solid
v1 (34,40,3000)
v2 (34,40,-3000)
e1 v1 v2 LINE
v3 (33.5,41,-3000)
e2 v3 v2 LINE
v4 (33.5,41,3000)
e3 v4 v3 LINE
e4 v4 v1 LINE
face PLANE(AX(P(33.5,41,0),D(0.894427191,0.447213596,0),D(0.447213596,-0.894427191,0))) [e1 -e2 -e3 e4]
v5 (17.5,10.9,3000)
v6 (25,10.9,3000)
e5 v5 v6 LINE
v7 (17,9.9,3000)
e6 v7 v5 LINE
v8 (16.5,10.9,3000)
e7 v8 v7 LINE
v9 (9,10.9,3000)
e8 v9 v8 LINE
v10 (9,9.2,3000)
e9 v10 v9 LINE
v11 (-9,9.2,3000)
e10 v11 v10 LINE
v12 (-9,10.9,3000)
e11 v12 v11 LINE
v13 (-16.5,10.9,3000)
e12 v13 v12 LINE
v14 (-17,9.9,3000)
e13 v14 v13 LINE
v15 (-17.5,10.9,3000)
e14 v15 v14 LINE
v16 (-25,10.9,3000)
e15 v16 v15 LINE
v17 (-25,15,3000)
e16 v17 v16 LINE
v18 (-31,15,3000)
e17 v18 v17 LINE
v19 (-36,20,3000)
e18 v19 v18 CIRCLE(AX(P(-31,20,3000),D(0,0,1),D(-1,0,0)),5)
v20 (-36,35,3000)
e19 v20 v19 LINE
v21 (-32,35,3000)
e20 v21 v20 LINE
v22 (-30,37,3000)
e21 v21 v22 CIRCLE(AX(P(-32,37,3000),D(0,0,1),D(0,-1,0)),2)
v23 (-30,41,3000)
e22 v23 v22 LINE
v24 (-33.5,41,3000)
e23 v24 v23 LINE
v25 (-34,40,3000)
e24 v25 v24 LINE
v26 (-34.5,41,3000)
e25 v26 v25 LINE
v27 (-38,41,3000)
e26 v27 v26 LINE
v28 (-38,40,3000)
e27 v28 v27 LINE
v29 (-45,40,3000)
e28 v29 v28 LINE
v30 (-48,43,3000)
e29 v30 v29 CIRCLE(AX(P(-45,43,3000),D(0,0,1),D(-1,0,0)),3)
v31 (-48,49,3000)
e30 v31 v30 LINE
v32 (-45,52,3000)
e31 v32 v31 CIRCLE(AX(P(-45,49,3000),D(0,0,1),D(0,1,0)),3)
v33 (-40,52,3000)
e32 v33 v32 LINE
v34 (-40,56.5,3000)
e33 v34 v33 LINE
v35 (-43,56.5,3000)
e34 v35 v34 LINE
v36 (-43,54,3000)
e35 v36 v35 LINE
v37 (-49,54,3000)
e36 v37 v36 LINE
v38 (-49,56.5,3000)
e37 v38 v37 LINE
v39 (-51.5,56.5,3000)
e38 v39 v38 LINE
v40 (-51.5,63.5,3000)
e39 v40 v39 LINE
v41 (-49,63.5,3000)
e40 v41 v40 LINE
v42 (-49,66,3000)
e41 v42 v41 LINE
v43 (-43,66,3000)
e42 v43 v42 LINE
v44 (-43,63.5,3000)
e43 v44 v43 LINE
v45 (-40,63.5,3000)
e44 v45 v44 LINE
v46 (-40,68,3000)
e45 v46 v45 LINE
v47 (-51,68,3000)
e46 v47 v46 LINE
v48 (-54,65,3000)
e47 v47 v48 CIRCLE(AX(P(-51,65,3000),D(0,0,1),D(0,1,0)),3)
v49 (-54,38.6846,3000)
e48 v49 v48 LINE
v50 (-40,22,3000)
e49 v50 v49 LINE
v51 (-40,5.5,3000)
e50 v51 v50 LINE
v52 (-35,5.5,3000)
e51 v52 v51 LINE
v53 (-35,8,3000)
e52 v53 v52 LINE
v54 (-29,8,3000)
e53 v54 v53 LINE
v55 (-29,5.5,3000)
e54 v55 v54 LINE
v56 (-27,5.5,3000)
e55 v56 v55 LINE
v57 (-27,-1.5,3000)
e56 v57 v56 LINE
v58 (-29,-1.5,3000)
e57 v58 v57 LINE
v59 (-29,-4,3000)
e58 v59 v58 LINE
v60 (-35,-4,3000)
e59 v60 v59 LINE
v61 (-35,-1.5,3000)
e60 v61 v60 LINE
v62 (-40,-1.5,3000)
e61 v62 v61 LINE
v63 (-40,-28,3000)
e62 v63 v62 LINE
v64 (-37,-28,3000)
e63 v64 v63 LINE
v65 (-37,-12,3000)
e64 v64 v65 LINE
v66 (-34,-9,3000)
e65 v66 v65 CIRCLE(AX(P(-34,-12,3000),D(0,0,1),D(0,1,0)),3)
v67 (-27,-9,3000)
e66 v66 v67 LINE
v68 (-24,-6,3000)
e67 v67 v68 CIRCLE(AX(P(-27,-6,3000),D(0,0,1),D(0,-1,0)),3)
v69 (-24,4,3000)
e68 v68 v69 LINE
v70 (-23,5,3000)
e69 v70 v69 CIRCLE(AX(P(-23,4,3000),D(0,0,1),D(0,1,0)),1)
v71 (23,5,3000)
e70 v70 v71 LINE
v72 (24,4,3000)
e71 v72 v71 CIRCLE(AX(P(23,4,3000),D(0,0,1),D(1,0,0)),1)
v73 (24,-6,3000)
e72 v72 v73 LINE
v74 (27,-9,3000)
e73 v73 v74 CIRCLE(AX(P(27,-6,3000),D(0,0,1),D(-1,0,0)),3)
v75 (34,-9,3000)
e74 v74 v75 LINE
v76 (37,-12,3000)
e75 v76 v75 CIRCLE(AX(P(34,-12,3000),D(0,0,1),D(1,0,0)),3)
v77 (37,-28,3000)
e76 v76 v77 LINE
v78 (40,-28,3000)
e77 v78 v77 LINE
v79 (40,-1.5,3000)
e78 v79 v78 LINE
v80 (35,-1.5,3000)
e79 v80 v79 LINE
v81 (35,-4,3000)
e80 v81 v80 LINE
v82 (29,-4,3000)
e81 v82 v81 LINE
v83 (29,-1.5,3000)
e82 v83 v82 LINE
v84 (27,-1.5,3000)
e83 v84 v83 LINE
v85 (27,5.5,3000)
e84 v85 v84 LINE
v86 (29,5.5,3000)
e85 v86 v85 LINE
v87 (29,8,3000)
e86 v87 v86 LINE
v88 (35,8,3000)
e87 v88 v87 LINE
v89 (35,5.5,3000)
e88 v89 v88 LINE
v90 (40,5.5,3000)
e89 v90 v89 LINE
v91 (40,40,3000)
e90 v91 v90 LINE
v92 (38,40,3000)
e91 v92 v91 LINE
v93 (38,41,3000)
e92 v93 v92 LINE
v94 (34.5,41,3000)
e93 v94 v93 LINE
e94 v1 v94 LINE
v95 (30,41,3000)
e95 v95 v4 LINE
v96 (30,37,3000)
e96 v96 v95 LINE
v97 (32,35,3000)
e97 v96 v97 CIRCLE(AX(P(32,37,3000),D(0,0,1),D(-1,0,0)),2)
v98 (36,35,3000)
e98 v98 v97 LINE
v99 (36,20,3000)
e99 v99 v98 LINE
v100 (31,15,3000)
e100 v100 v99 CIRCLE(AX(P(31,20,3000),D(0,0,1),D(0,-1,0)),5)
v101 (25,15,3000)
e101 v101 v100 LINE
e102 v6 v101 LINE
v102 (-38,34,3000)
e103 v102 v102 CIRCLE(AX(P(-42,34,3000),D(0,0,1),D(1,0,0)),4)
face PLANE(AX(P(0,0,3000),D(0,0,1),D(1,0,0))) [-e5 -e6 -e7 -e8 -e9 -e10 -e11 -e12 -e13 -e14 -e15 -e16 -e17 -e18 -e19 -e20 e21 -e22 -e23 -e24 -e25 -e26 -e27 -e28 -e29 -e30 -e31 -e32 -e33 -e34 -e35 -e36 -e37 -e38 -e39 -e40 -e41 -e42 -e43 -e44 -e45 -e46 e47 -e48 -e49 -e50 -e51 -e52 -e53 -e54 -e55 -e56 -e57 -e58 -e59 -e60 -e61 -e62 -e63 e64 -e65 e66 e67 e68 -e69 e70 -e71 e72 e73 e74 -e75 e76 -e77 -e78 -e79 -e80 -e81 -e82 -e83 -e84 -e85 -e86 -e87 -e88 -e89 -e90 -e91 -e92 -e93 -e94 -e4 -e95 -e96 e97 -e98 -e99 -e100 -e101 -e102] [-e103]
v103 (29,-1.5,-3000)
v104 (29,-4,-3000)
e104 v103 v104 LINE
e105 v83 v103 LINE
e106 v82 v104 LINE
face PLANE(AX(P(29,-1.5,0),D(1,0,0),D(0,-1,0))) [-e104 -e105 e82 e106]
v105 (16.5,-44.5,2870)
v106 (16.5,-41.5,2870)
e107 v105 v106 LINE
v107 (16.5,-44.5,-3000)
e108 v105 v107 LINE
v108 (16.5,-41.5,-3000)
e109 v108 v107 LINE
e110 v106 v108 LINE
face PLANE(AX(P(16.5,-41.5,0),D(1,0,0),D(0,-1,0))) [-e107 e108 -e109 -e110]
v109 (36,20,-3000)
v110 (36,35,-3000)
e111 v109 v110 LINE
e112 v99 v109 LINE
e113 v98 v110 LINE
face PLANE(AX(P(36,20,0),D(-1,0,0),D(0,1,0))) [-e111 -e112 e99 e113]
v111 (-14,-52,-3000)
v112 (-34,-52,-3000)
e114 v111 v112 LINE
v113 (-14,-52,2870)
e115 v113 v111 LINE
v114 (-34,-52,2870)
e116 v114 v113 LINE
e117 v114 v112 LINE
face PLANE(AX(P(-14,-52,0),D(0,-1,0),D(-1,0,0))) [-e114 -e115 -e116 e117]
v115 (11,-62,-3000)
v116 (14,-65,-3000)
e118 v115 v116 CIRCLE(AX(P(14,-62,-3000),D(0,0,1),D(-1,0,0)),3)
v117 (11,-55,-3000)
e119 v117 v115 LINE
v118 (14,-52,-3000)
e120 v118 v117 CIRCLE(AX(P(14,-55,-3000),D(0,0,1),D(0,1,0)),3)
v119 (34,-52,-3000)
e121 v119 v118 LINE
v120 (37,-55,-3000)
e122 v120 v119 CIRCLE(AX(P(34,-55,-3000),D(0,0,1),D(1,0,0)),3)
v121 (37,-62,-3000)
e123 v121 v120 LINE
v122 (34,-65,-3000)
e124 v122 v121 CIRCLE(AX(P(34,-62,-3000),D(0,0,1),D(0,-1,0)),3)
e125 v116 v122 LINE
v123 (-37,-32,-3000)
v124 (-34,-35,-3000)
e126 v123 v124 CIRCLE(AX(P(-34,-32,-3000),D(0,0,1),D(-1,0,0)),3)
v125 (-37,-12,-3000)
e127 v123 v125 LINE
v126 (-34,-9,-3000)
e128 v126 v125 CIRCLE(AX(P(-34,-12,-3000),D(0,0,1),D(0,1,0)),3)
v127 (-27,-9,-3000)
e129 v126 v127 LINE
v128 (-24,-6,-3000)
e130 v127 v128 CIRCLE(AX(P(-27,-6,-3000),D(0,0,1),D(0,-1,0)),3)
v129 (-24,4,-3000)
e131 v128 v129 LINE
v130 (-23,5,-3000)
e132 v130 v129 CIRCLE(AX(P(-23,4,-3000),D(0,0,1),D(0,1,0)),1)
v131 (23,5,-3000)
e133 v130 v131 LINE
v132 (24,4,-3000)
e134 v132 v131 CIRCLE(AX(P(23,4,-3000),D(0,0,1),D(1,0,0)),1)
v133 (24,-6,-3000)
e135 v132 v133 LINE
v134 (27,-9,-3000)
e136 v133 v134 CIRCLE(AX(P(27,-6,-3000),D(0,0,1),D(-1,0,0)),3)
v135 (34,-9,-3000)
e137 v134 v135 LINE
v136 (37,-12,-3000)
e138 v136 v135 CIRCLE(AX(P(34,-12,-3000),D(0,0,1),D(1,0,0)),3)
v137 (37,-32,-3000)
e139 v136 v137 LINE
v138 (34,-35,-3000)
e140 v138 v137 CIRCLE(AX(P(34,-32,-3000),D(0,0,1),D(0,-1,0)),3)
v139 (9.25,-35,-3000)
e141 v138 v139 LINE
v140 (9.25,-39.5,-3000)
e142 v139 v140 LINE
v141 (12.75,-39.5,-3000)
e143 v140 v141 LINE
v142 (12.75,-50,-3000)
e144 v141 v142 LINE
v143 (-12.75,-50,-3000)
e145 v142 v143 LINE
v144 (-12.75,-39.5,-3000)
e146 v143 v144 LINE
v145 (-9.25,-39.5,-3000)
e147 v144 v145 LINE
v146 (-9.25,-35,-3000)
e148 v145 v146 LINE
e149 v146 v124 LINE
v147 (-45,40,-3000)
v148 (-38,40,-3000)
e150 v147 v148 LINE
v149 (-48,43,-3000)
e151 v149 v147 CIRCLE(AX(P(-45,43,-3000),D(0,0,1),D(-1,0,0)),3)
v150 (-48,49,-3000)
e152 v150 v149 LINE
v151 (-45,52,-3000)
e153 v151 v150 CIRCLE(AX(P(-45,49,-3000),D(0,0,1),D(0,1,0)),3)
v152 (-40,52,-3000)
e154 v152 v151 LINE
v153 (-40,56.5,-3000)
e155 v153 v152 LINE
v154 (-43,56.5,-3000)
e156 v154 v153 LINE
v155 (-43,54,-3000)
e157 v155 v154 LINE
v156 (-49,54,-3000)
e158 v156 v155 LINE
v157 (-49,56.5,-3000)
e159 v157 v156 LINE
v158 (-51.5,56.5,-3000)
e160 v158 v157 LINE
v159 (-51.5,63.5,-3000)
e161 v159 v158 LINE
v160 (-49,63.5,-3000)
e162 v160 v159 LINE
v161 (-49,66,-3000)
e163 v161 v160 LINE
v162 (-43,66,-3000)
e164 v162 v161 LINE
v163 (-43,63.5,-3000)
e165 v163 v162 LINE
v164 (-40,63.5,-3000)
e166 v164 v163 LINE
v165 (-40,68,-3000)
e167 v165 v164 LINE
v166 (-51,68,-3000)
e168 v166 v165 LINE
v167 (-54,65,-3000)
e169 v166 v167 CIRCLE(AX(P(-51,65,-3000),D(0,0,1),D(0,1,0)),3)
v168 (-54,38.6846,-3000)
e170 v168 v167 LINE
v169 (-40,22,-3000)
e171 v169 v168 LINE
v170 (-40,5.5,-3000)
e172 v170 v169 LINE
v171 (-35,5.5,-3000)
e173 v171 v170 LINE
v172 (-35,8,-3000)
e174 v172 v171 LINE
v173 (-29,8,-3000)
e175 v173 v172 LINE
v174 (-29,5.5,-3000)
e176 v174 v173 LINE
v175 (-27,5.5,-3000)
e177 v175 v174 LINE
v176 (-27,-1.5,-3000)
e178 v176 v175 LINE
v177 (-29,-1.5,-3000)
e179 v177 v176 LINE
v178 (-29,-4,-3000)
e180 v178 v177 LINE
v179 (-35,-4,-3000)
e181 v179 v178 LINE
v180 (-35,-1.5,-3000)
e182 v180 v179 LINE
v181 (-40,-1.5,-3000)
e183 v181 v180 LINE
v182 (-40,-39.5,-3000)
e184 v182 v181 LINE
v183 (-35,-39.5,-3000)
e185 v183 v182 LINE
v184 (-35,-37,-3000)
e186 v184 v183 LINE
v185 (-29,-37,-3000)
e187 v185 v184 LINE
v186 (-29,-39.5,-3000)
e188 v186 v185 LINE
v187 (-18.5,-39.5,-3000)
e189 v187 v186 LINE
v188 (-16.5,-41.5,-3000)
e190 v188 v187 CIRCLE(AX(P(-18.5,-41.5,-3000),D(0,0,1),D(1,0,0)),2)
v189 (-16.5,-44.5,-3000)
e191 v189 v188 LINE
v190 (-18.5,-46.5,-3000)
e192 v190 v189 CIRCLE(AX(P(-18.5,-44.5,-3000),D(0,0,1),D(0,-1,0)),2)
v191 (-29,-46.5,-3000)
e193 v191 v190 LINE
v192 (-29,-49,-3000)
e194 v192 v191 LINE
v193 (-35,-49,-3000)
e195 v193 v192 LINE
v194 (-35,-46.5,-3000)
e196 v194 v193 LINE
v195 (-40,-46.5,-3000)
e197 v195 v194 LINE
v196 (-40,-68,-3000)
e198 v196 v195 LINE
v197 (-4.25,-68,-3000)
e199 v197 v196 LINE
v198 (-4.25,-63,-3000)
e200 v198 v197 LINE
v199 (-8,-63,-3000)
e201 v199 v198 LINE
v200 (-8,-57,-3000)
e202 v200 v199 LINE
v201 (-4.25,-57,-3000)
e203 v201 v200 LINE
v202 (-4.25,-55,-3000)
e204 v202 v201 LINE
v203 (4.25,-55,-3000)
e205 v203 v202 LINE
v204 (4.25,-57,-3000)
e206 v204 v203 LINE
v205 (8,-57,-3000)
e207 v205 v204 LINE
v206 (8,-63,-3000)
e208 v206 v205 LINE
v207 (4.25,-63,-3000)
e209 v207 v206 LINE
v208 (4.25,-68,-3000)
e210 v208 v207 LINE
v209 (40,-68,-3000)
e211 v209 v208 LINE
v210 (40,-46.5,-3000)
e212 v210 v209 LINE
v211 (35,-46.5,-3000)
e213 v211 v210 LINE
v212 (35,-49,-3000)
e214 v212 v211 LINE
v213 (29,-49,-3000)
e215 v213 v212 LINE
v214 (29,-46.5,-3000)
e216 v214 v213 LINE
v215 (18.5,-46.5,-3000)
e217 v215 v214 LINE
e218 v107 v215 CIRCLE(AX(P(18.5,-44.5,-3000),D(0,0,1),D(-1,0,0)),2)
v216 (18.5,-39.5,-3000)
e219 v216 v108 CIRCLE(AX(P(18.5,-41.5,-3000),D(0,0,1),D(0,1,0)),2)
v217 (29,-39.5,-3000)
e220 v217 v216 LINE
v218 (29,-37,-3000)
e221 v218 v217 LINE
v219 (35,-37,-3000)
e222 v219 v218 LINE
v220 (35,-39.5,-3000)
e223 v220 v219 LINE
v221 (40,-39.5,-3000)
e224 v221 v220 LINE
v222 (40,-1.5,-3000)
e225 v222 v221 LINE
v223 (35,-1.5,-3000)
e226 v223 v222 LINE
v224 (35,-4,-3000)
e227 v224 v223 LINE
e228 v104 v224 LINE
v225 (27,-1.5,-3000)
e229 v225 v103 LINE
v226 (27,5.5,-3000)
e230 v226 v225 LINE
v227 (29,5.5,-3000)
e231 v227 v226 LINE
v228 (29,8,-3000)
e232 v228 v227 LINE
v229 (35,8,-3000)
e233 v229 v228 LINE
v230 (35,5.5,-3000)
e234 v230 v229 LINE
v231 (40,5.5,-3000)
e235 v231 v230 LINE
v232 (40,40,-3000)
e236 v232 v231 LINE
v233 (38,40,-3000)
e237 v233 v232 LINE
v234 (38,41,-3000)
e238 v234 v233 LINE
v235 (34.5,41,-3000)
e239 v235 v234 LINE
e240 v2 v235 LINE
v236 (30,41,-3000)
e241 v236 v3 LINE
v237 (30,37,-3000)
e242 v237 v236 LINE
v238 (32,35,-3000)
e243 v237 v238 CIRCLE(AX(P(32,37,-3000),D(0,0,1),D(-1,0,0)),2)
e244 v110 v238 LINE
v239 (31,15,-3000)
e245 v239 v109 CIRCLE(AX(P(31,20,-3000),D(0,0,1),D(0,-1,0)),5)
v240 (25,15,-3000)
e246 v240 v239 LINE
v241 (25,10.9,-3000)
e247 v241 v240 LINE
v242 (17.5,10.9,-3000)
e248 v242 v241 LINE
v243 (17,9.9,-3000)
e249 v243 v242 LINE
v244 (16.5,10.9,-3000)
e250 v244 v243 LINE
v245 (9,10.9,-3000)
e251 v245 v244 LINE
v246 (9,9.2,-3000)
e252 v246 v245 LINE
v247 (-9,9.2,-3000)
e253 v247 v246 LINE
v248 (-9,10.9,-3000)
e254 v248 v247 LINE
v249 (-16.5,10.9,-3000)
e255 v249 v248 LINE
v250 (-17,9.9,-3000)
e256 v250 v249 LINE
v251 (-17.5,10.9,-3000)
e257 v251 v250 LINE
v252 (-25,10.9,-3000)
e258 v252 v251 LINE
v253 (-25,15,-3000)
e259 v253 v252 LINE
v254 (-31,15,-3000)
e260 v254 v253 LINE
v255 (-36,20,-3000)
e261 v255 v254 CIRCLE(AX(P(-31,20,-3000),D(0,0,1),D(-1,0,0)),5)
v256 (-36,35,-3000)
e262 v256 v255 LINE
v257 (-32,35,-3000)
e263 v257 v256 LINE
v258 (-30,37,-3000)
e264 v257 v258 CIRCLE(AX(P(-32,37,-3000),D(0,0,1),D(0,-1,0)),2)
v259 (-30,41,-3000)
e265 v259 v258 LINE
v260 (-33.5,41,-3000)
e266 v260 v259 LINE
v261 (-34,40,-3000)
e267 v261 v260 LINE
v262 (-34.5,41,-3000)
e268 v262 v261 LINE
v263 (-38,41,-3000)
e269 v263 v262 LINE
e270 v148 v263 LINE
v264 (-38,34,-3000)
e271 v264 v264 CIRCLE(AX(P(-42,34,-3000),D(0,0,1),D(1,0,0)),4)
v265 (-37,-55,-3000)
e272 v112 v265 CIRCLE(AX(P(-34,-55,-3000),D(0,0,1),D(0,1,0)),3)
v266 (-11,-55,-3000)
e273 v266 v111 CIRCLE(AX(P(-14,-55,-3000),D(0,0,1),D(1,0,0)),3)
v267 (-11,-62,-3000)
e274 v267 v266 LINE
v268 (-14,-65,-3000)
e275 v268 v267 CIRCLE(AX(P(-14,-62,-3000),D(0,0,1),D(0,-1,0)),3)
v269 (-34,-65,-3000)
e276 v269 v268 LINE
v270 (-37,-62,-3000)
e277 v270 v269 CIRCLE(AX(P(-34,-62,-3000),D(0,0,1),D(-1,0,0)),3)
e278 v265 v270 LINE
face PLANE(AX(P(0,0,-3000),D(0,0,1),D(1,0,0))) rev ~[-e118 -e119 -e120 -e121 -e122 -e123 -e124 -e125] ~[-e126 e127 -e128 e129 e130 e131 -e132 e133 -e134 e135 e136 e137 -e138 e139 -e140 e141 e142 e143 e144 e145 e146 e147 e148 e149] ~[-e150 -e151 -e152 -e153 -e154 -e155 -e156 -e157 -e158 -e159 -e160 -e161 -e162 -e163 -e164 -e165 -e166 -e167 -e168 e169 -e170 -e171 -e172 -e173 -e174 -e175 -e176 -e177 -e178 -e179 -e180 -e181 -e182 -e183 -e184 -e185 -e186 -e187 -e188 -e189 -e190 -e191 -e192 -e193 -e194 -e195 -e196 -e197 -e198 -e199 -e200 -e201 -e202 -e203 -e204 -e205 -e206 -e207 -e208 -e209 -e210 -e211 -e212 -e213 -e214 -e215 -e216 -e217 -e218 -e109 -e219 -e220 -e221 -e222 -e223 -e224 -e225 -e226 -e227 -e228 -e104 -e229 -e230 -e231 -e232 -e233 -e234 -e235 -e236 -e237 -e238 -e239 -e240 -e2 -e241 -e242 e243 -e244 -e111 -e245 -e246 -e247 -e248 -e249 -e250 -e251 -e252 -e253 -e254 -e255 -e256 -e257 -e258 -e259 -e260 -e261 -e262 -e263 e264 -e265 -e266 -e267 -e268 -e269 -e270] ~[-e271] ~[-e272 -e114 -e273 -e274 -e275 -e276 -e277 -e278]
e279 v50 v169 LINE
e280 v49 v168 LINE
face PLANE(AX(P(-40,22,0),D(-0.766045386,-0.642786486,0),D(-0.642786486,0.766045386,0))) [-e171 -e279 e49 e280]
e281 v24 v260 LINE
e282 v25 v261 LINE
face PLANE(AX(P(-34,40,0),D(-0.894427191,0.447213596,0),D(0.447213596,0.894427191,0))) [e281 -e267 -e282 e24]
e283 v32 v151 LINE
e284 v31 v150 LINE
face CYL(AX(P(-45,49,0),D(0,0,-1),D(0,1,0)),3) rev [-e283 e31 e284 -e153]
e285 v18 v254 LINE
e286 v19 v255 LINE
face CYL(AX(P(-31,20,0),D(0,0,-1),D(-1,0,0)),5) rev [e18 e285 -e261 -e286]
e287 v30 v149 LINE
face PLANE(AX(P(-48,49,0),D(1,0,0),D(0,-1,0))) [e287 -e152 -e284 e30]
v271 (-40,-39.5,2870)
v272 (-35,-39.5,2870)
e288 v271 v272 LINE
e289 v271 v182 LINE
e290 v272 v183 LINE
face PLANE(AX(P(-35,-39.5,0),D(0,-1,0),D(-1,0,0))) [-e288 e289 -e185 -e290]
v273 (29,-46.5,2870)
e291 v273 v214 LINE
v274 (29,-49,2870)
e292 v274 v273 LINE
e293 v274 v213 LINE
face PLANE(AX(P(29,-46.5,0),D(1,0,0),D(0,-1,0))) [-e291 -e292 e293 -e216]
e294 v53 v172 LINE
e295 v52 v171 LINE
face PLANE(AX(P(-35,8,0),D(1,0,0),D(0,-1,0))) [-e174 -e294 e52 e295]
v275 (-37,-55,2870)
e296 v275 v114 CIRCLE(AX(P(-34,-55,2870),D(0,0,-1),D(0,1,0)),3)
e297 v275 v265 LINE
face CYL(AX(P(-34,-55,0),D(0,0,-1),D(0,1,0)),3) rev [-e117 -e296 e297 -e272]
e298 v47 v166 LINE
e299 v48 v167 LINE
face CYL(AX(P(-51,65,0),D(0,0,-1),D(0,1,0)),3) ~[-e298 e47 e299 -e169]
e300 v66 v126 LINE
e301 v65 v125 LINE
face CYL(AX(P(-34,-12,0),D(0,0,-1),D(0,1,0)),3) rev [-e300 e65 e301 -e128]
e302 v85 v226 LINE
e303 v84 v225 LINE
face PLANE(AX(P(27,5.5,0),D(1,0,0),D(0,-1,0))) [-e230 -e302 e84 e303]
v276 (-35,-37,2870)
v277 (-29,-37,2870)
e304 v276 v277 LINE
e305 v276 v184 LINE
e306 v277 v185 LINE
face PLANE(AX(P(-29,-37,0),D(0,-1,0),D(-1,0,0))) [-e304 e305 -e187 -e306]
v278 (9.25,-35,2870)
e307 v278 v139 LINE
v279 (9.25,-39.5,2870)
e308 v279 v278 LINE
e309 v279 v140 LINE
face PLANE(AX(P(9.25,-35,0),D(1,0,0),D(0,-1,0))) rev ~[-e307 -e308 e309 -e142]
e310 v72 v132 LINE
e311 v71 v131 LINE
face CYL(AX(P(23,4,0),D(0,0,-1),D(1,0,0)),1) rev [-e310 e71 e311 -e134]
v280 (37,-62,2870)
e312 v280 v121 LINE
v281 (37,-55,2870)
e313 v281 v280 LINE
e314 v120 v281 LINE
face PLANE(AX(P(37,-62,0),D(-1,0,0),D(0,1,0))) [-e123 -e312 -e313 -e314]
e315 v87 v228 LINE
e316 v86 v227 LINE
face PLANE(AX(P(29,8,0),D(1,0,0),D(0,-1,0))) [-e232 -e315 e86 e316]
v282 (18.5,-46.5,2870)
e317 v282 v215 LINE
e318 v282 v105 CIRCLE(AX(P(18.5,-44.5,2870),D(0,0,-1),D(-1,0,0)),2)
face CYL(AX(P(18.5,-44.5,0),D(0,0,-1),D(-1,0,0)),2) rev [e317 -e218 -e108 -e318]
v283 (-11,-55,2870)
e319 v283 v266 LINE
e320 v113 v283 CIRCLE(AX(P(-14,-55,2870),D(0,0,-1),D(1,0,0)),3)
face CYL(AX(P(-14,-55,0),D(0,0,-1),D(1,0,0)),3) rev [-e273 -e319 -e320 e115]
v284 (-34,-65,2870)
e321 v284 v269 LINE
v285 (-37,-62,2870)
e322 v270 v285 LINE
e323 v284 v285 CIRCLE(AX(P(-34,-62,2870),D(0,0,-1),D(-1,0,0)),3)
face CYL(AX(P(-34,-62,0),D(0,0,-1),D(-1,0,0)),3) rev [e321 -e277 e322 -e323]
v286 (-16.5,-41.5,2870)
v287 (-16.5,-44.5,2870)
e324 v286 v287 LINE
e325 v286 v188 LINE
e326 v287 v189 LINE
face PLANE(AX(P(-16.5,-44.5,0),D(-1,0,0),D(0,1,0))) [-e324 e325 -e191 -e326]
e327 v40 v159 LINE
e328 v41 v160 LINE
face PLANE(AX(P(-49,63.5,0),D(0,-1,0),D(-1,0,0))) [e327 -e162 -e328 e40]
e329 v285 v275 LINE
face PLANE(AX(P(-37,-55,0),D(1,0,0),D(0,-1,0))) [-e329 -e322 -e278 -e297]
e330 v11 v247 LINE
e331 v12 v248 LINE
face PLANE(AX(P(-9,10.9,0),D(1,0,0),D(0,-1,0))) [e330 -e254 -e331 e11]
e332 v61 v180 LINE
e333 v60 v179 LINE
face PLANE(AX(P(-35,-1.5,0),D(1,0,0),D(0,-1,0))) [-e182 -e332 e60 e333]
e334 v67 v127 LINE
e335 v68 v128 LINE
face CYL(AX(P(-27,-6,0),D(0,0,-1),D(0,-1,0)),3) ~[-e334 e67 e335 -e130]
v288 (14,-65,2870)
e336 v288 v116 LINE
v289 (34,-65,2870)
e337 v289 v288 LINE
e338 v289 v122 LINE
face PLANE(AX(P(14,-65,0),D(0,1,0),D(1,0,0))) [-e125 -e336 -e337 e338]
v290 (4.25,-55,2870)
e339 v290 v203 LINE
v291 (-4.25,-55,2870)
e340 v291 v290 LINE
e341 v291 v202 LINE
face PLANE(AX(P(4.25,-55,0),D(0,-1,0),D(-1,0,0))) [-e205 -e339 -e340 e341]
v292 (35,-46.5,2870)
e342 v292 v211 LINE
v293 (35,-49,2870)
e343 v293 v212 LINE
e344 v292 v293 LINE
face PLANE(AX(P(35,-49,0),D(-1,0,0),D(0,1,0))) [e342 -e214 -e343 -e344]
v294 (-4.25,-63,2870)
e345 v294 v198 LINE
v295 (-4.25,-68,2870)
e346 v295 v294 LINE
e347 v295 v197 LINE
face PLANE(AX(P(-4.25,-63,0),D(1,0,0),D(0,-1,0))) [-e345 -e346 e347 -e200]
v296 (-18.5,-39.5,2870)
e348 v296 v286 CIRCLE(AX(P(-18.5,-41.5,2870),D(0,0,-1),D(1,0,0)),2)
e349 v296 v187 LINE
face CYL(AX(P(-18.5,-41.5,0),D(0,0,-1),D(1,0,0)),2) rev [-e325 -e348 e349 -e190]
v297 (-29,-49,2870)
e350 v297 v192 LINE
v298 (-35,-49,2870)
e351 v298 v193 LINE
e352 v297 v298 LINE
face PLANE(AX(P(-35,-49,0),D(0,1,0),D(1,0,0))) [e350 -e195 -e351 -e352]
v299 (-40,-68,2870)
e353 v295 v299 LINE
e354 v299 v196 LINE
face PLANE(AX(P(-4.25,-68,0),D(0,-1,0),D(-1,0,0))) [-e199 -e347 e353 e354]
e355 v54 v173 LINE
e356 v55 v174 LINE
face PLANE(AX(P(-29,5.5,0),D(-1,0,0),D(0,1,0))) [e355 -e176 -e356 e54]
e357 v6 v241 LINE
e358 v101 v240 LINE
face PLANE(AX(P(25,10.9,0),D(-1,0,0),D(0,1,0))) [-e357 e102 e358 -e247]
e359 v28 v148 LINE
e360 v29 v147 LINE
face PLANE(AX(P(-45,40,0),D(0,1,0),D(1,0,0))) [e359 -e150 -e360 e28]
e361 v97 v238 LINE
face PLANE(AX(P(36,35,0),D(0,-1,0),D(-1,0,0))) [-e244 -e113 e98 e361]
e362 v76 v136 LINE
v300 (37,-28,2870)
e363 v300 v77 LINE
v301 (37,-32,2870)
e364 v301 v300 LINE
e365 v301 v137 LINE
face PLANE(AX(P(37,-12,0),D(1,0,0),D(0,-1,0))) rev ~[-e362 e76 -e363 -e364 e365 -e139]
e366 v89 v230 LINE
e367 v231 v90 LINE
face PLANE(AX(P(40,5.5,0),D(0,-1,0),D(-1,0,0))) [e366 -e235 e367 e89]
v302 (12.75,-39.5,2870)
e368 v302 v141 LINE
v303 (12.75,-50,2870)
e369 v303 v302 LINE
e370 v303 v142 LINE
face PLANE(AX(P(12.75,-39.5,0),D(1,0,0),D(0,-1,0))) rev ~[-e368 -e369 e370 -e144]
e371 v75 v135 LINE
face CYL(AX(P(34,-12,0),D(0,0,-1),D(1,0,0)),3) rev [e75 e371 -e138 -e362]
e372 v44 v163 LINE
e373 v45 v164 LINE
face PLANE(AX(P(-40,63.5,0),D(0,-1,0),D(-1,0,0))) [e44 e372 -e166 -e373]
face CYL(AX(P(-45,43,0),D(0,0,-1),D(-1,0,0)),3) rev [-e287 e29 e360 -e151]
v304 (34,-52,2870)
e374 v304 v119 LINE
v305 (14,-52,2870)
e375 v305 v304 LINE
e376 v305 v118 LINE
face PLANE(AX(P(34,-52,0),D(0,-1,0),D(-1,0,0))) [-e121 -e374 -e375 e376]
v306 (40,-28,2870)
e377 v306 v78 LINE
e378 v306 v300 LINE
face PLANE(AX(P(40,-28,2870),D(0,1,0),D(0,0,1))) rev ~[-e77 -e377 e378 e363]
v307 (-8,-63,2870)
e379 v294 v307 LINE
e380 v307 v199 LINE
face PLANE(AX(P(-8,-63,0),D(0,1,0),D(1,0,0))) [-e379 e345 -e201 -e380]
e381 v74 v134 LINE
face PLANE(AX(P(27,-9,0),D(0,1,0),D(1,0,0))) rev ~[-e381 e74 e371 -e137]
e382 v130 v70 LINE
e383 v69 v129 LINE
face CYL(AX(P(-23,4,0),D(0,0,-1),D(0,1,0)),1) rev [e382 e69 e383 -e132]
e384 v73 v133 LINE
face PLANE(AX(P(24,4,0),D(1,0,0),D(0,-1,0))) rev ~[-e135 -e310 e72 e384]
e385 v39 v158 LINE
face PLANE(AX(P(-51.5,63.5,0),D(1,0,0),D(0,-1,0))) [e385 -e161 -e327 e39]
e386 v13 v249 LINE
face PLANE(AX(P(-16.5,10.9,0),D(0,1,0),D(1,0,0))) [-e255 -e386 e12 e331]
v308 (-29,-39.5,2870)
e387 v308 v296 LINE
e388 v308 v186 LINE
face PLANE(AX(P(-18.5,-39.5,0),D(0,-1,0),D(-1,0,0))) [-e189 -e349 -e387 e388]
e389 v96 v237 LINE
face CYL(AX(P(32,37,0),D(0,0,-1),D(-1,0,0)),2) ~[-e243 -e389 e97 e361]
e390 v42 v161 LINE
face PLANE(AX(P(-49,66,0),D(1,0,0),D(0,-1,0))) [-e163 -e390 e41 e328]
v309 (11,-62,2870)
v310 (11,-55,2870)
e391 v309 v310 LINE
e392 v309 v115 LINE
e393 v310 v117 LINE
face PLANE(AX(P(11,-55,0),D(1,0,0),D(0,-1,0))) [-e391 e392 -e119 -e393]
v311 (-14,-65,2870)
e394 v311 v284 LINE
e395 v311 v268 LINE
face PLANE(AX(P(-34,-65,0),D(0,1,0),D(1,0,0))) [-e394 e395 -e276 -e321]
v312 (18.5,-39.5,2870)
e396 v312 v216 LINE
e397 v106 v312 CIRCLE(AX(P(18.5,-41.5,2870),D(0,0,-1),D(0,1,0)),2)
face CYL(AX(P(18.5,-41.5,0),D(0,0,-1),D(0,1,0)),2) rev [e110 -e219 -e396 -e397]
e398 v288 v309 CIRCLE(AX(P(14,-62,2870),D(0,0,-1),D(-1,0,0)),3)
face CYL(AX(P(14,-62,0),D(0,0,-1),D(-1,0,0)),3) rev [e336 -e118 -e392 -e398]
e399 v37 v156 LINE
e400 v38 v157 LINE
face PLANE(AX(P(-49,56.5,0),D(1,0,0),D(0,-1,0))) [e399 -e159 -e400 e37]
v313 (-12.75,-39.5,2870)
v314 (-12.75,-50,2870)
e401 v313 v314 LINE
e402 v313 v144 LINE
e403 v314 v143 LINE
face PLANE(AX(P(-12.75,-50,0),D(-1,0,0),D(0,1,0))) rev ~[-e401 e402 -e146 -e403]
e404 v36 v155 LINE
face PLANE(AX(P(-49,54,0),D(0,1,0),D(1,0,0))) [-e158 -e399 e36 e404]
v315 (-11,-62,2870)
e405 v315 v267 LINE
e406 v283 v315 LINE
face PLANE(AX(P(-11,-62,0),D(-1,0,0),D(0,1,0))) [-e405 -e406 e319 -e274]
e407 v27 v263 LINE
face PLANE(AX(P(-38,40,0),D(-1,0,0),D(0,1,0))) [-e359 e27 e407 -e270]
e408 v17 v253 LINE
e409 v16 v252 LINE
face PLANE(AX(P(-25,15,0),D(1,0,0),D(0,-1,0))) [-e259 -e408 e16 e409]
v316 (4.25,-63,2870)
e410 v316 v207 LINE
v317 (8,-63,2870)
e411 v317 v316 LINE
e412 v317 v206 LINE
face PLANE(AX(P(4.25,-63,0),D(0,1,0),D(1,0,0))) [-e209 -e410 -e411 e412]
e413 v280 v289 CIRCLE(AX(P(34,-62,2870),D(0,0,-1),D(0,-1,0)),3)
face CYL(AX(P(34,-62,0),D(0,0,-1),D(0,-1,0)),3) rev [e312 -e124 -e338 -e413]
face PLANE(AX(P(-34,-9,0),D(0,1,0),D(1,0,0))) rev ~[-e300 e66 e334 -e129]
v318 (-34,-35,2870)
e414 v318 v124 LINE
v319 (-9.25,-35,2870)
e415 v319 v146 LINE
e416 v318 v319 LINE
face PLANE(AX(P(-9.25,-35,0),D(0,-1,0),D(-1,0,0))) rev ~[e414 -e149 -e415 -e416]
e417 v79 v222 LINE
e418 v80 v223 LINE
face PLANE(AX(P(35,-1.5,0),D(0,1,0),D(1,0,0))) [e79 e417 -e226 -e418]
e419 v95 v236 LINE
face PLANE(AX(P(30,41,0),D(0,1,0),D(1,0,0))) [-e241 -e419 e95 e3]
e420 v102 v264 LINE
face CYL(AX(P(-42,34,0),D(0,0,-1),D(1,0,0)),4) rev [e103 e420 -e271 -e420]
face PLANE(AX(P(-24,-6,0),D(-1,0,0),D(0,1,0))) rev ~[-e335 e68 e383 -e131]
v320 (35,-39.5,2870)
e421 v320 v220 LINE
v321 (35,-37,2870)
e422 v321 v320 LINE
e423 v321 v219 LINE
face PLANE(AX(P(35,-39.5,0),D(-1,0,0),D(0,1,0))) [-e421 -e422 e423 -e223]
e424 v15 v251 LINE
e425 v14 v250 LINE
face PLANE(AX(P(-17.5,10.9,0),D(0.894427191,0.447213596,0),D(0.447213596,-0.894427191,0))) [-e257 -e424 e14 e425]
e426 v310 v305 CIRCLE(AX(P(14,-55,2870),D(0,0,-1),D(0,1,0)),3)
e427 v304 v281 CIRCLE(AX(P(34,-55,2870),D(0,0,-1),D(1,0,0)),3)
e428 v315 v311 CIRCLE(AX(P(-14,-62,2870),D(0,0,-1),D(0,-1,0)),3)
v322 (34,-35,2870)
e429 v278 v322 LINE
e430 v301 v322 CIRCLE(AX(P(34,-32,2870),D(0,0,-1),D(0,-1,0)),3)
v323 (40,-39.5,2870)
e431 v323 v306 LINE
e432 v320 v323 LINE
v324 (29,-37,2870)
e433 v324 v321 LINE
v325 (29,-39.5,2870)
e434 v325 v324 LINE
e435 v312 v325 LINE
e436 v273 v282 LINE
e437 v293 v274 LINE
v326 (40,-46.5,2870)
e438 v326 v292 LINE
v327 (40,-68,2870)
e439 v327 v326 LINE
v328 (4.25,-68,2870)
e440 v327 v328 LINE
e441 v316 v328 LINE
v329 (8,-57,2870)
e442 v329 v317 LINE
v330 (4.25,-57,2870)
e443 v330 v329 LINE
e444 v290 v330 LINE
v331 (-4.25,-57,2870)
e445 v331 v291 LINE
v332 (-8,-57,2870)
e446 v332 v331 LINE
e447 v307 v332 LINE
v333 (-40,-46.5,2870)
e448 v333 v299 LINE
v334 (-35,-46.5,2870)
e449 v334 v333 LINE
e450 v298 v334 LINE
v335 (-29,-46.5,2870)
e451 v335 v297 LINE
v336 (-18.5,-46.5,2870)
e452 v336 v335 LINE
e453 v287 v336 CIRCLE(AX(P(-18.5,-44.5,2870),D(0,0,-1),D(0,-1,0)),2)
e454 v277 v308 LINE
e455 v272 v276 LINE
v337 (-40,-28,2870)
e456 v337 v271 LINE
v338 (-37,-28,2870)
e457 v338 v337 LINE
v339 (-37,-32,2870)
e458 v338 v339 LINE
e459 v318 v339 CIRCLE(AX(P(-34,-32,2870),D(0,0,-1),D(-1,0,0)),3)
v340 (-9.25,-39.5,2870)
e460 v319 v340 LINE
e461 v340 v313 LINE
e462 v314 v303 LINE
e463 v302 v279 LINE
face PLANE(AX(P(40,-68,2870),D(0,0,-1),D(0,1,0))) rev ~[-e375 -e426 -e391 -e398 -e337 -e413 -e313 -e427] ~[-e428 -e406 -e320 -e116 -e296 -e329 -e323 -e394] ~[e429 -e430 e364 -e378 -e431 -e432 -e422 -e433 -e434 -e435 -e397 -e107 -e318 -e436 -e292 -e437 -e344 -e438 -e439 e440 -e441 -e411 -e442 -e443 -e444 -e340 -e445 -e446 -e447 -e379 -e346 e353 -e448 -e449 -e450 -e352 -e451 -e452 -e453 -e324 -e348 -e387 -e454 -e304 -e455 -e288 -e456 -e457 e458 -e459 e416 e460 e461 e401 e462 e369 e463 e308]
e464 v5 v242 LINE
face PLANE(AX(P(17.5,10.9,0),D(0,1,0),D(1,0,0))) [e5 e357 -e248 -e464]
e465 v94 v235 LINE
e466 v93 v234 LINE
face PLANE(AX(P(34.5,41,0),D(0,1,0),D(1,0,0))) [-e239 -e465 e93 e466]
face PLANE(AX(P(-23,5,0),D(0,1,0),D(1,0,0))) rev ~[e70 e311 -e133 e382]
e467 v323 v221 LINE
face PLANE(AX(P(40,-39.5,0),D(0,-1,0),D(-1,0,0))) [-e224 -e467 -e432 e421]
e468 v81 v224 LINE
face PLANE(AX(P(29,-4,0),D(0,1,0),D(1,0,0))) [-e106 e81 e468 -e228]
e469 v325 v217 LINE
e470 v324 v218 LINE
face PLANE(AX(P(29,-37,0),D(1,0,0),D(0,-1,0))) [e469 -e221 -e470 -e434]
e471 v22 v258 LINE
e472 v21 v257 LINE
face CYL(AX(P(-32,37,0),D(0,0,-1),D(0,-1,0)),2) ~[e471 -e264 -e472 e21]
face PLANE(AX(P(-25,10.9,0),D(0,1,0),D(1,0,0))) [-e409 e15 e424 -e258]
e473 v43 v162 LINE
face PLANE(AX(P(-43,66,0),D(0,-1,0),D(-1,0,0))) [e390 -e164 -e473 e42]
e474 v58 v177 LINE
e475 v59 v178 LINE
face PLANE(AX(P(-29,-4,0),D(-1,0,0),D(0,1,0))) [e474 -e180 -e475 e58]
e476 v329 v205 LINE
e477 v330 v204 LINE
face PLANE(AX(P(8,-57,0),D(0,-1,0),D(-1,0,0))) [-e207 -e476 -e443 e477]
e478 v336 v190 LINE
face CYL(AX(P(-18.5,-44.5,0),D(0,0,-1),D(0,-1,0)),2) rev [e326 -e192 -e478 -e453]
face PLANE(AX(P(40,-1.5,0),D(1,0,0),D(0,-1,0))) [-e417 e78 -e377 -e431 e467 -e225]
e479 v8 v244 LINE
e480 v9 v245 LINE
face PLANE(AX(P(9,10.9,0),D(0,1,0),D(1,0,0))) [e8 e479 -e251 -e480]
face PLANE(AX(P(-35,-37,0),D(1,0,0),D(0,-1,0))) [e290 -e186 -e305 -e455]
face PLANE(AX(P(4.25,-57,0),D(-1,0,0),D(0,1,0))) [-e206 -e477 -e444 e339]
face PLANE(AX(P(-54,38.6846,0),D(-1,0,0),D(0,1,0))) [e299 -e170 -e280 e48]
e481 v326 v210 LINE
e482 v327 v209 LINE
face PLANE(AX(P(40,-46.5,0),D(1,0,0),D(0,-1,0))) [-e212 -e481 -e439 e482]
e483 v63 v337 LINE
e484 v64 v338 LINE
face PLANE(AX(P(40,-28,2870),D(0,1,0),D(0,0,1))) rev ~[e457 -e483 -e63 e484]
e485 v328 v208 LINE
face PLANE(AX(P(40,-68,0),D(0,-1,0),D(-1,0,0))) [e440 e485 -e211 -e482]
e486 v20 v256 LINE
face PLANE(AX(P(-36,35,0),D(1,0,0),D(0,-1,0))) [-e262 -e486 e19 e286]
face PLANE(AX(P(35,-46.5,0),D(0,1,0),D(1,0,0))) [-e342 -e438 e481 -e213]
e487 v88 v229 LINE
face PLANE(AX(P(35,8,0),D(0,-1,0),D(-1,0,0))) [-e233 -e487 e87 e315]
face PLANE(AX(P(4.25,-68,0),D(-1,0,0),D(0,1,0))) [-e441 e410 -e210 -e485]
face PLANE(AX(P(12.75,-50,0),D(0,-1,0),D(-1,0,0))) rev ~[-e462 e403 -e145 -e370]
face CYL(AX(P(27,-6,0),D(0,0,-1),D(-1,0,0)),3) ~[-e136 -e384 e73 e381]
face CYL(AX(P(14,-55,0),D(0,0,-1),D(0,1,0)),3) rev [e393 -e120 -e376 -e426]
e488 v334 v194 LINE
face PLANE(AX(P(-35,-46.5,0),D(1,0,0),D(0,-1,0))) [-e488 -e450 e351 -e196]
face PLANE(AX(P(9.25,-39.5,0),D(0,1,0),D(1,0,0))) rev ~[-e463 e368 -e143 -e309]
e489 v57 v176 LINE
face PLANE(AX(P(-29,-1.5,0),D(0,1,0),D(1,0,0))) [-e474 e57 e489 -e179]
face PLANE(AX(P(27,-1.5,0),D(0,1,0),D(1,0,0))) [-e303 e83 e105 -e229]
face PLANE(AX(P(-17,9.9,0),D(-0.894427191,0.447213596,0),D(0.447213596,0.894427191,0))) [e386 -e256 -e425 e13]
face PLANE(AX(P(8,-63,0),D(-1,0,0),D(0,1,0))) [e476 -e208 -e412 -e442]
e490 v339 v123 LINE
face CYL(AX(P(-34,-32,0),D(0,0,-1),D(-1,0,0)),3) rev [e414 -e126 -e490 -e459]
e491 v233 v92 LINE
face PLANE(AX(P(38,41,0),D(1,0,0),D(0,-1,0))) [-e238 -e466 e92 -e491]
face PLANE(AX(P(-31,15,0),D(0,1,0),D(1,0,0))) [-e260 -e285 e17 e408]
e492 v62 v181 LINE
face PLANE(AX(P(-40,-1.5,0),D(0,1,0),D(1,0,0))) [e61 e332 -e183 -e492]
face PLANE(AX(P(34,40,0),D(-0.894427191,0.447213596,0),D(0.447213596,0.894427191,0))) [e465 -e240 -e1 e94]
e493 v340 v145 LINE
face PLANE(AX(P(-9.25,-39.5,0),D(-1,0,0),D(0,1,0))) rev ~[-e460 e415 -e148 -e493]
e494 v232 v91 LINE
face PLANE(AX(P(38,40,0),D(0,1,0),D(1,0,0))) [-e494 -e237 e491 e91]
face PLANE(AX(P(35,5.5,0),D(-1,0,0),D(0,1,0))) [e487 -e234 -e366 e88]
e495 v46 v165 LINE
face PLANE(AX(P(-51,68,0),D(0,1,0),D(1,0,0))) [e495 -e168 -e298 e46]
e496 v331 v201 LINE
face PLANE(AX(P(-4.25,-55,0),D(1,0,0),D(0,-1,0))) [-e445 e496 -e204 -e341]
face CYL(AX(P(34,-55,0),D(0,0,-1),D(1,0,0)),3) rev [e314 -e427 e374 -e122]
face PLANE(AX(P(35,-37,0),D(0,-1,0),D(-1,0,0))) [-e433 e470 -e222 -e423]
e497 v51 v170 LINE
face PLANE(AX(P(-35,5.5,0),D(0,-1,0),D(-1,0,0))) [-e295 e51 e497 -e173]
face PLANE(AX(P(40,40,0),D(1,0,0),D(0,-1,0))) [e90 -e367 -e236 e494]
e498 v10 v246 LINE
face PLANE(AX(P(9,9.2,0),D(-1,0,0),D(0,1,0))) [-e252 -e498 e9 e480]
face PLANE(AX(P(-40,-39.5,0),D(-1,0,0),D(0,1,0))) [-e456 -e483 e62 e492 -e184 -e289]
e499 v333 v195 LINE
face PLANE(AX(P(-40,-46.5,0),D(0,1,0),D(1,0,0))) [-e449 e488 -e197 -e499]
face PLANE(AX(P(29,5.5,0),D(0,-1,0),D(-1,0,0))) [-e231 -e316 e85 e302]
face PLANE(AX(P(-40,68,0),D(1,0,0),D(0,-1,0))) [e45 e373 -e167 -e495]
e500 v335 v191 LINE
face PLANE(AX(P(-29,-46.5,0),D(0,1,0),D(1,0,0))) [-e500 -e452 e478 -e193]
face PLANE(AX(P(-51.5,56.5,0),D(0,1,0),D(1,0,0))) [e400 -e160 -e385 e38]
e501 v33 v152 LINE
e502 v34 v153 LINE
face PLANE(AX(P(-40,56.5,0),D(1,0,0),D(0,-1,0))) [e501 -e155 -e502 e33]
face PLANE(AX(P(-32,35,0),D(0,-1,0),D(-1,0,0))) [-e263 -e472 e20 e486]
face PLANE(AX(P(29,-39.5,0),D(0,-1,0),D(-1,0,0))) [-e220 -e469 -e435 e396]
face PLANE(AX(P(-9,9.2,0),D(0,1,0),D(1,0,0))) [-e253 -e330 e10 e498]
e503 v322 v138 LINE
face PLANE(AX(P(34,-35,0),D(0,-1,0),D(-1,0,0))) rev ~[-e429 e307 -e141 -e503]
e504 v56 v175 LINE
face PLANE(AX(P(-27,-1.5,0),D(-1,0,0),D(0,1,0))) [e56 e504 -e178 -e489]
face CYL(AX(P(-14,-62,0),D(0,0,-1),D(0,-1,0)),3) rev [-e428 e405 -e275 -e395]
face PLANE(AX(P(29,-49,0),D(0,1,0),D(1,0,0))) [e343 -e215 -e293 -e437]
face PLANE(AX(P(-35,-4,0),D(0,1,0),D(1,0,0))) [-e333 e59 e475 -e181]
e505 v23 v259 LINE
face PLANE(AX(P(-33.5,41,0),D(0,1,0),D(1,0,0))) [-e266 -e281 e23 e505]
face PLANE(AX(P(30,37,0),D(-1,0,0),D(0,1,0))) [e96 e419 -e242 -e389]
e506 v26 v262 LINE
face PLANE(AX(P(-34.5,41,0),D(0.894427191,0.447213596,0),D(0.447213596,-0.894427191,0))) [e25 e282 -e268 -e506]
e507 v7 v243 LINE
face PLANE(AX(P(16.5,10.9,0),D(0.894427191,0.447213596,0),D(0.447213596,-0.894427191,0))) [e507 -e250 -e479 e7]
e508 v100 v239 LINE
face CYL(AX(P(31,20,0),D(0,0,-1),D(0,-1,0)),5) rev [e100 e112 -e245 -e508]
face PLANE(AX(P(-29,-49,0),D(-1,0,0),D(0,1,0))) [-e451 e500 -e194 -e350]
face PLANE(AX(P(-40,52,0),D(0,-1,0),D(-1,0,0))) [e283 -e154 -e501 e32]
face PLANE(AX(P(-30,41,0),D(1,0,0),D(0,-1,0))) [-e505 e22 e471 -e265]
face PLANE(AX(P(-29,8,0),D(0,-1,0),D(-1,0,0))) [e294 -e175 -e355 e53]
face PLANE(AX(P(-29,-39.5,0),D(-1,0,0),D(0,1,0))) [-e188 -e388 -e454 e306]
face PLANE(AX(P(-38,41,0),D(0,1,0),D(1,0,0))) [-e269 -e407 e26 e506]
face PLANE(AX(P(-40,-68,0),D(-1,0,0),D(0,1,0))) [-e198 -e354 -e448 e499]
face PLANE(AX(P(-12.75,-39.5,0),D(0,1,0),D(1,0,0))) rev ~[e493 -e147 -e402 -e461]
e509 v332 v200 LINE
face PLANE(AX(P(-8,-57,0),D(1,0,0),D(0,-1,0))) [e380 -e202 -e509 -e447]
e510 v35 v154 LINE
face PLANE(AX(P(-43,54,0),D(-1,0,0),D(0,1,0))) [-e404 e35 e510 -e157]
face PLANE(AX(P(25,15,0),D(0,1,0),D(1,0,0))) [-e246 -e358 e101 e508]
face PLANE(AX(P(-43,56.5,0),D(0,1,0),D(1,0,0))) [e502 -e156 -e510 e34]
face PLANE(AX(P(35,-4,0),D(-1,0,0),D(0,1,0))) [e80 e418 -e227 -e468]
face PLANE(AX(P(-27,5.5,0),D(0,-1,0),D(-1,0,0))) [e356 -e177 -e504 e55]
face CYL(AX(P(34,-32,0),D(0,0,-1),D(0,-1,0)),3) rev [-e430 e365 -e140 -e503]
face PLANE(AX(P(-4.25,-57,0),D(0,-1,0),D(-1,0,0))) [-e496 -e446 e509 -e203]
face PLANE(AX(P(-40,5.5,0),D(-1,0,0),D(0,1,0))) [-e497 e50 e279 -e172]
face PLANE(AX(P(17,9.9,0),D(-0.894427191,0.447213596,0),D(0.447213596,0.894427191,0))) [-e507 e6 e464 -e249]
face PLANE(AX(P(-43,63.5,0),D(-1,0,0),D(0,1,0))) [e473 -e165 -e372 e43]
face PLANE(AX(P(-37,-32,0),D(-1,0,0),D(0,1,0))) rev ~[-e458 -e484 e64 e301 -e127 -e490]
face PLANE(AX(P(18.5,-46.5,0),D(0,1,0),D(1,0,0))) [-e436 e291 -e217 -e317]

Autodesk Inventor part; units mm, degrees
ref_plane "YZ Plane" through (0, 0, 0) normal (1, 0, 0) x (0, 1, 0)
ref_plane "XZ Plane" through (0, 0, 0) normal (0, 1, 0) x (-1, 0, 0)
ref_plane "XY Plane" through (0, 0, 0) normal (0, 0, 1) x (1, 0, 0)
sketch "스케치9" plane through (0, 0, 0) normal (0, 0, 1) x (1, 0, 0)
  line L0 (40, 5.5) -> (35, 5.5)
  line L1 (35, 5.5) -> (35, 8)
  line L2 (35, 8) -> (29, 8)
  line L3 (29, 8) -> (29, 5.5)
  line L4 (29, 5.5) -> (27, 5.5)
  line L5 (27, 5.5) -> (27, -1.5)
  line L6 (29, -1.5) -> (29, -4)
  line L7 (29, -4) -> (35, -4)
  line L8 (35, -4) -> (35, -1.5)
  line L9 (35, -1.5) -> (40, -1.5)
  line L10 (40, -1.5) -> (40, -39.5)
  line L11 (40, -39.5) -> (35, -39.5)
  line L12 (35, -39.5) -> (35, -37)
  line L13 (35, -37) -> (29, -37)
  line L14 (29, -37) -> (29, -39.5)
  line L15 (29, -39.5) -> (18.5, -39.5)
  arc A0 (18.5, -39.5) -> (16.5, -41.5) centre (18.5, -41.5) ccw
  line L16 (16.5, -41.5) -> (16.5, -44.5)
  arc A1 (16.5, -44.5) -> (18.5, -46.5) centre (18.5, -44.5) ccw
  line L17 (18.5, -46.5) -> (29, -46.5)
  line L18 (29, -46.5) -> (29, -49)
  line L19 (29, -49) -> (35, -49)
  line L20 (35, -49) -> (35, -46.5)
  line L21 (35, -46.5) -> (40, -46.5)
  line L22 (40, -46.5) -> (40, -68)
  line L23 (40, -68) -> (4.25, -68)
  line L24 (4.25, -68) -> (4.25, -63)
  line L25 (4.25, -63) -> (8, -63)
  line L26 (8, -63) -> (8, -57)
  line L27 (8, -57) -> (4.25, -57)
  line L28 (4.25, -57) -> (4.25, -55)
  line L29 (4.25, -55) -> (-4.25, -55)
  line L30 (-4.25, -55) -> (-4.25, -57)
  line L31 (-4.25, -57) -> (-8, -57)
  line L32 (-8, -57) -> (-8, -63)
  line L33 (-8, -63) -> (-4.25, -63)
  line L34 (-4.25, -63) -> (-4.25, -68)
  line L35 (-4.25, -68) -> (-40, -68)
  line L36 (-40, -68) -> (-40, -46.5)
  line L37 (-40, -46.5) -> (-35, -46.5)
  line L38 (-35, -46.5) -> (-35, -49)
  line L39 (-35, -49) -> (-29, -49)
  line L40 (-29, -49) -> (-29, -46.5)
  line L41 (-29, -46.5) -> (-18.5, -46.5)
  arc A2 (-18.5, -46.5) -> (-16.5, -44.5) centre (-18.5, -44.5) ccw
  line L42 (-16.5, -44.5) -> (-16.5, -41.5)
  arc A3 (-16.5, -41.5) -> (-18.5, -39.5) centre (-18.5, -41.5) ccw
  line L43 (-18.5, -39.5) -> (-29, -39.5)
  line L44 (-29, -39.5) -> (-29, -37)
  line L45 (-29, -37) -> (-35, -37)
  line L46 (-35, -37) -> (-35, -39.5)
  line L47 (-35, -39.5) -> (-40, -39.5)
  line L48 (-40, -39.5) -> (-40, -1.5)
  line L49 (-40, -1.5) -> (-35, -1.5)
  line L50 (-35, -1.5) -> (-35, -4)
  line L51 (-35, -4) -> (-29, -4)
  line L52 (-29, -4) -> (-29, -1.5)
  line L53 (-29, -1.5) -> (-27, -1.5)
  line L54 (-27, -1.5) -> (-27, 5.5)
  line L55 (-27, 5.5) -> (-29, 5.5)
  line L56 (-29, 5.5) -> (-29, 8)
  line L57 (-29, 8) -> (-35, 8)
  line L58 (-35, 8) -> (-35, 5.5)
  line L59 (-35, 5.5) -> (-40, 5.5)
  line L60 (-40, 5.5) -> (-40, 22)
  line L61 (-40, 22) -> (-54, 38.6846)
  line L62 (-54, 38.6846) -> (-54, 65)
  arc A4 (-51, 68) -> (-54, 65) centre (-51, 65) ccw
  line L63 (-51, 68) -> (-40, 68)
  line L64 (-40, 68) -> (-40, 63.5)
  line L65 (-40, 63.5) -> (-43, 63.5)
  line L66 (-43, 63.5) -> (-43, 66)
  line L67 (-43, 66) -> (-49, 66)
  line L68 (-49, 66) -> (-49, 63.5)
  line L69 (27, -1.5) -> (29, -1.5)
  line L70 (-51.5, 63.5) -> (-51.5, 56.5)
  line L71 (-51.5, 56.5) -> (-49, 56.5)
  line L72 (-49, 56.5) -> (-49, 54)
  line L73 (-49, 54) -> (-43, 54)
  line L74 (-43, 54) -> (-43, 56.5)
  line L75 (-43, 56.5) -> (-40, 56.5)
  line L76 (-40, 56.5) -> (-40, 52)
  line L77 (-40, 52) -> (-45, 52)
  arc A5 (-45, 52) -> (-48, 49) centre (-45, 49) ccw
  line L78 (-48, 49) -> (-48, 43)
  arc A6 (-48, 43) -> (-45, 40) centre (-45, 43) ccw
  line L79 (-45, 40) -> (-38, 40)
  line L80 (-38, 40) -> (-38, 41)
  line L81 (-38, 41) -> (-34.5, 41)
  line L82 (-34.5, 41) -> (-34, 40)
  line L83 (-34, 40) -> (-33.5, 41)
  line L84 (-33.5, 41) -> (-30, 41)
  line L85 (-30, 41) -> (-30, 37)
  arc A7 (-32, 35) -> (-30, 37) centre (-32, 37) ccw
  line L86 (-32, 35) -> (-36, 35)
  line L87 (-36, 35) -> (-36, 20)
  arc A8 (-36, 20) -> (-31, 15) centre (-31, 20) ccw
  line L88 (-31, 15) -> (-25, 15)
  line L89 (-25, 15) -> (-25, 10.9)
  line L90 (-25, 10.9) -> (-17.5, 10.9)
  line L91 (-17.5, 10.9) -> (-17, 9.9)
  line L92 (-17, 9.9) -> (-16.5, 10.9)
  line L93 (-16.5, 10.9) -> (-9, 10.9)
  line L94 (-9, 10.9) -> (-9, 9.2)
  line L95 (-9, 9.2) -> (9, 9.2)
  line L96 (9, 9.2) -> (9, 10.9)
  line L97 (9, 10.9) -> (16.5, 10.9)
  line L98 (16.5, 10.9) -> (17, 9.9)
  line L99 (17, 9.9) -> (17.5, 10.9)
  line L100 (17.5, 10.9) -> (25, 10.9)
  line L101 (25, 10.9) -> (25, 15)
  line L102 (25, 15) -> (31, 15)
  arc A9 (31, 15) -> (36, 20) centre (31, 20) ccw
  line L103 (36, 20) -> (36, 35)
  line L104 (36, 35) -> (32, 35)
  arc A10 (30, 37) -> (32, 35) centre (32, 37) ccw
  line L105 (30, 37) -> (30, 41)
  line L106 (30, 41) -> (33.5, 41)
  line L107 (33.5, 41) -> (34, 40)
  line L108 (34, 40) -> (34.5, 41)
  line L109 (34.5, 41) -> (38, 41)
  line L110 (38, 41) -> (38, 40)
  line L111 (38, 40) -> (40, 40)
  line L112 (40, 40) -> (40, 5.5)
  line L113 (-23, 5) -> (23, 5)
  arc A11 (24, 4) -> (23, 5) centre (23, 4) ccw
  line L114 (24, 4) -> (24, -6)
  arc A12 (24, -6) -> (27, -9) centre (27, -6) ccw
  line L115 (27, -9) -> (34, -9)
  arc A13 (37, -12) -> (34, -9) centre (34, -12) ccw
  line L116 (37, -12) -> (37, -32)
  arc A14 (34, -35) -> (37, -32) centre (34, -32) ccw
  line L117 (34, -35) -> (9.25, -35)
  line L118 (9.25, -35) -> (9.25, -39.5)
  line L119 (9.25, -39.5) -> (12.75, -39.5)
  line L120 (12.75, -39.5) -> (12.75, -50)
  line L121 (12.75, -50) -> (-12.75, -50)
  line L122 (-12.75, -50) -> (-12.75, -39.5)
  line L123 (-12.75, -39.5) -> (-9.25, -39.5)
  line L124 (-9.25, -39.5) -> (-9.25, -35)
  line L125 (-9.25, -35) -> (-34, -35)
  arc A15 (-37, -32) -> (-34, -35) centre (-34, -32) ccw
  line L126 (-49, 63.5) -> (-51.5, 63.5)
  arc A16 (-34, -9) -> (-37, -12) centre (-34, -12) ccw
  line L127 (-34, -9) -> (-27, -9)
  arc A17 (-27, -9) -> (-24, -6) centre (-27, -6) ccw
  line L128 (-24, -6) -> (-24, 4)
  arc A18 (-23, 5) -> (-24, 4) centre (-23, 4) ccw
  arc A19 (37, -55) -> (34, -52) centre (34, -55) ccw
  line L129 (34, -52) -> (14, -52)
  arc A20 (14, -52) -> (11, -55) centre (14, -55) ccw
  line L130 (11, -55) -> (11, -62)
  arc A21 (11, -62) -> (14, -65) centre (14, -62) ccw
  line L131 (14, -65) -> (34, -65)
  arc A22 (34, -65) -> (37, -62) centre (34, -62) ccw
  line L132 (37, -62) -> (37, -55)
  arc A23 (-37, -62) -> (-34, -65) centre (-34, -62) ccw
  line L133 (-34, -65) -> (-14, -65)
  arc A24 (-14, -65) -> (-11, -62) centre (-14, -62) ccw
  line L134 (-11, -62) -> (-11, -55)
  arc A25 (-11, -55) -> (-14, -52) centre (-14, -55) ccw
  line L135 (-14, -52) -> (-34, -52)
  arc A26 (-34, -52) -> (-37, -55) centre (-34, -55) ccw
  line L136 (-37, -55) -> (-37, -62)
  circle A27 centre (-42, 34) radius 4
  line L137 (-37, -32) -> (-37, -12)
  point P0 (0, 0)
  point P1 (0, 0)
  point P2 (-41.1372, 2)
  point P3 (-40.2674, -43)
extrude "돌출4" add sketch "스케치9" along normal mid plane 6000
sketch "스케치10" plane through (40, -46.5, 3000) normal (1, 0, 0) x (0, 0, -1)
  line L0 (6000, -21.5) -> (0, -21.5) construction
  line L1 (0, -21.5) -> (130, -21.5)
  line L2 (130, -21.5) -> (130, 18.5)
  line L3 (130, 18.5) -> (0, 18.5)
  line L4 (0, 18.5) -> (0, -21.5)
  line L5 (6000, -21.5) -> (5870, -21.5)
  line L6 (5870, -21.5) -> (5870, 18.5)
  line L7 (5870, 18.5) -> (6000, 18.5)
  line L8 (6000, 18.5) -> (6000, -21.5)
  point P0 (3000, 46.5)
  dimension "d42" = 40
  dimension "d43" = 130
  dimension "d44" = 130
extrude "돌출5" cut sketch "스케치10" against normal through all contours L4 L3 L2 L1
equation "\"d44\" = d43"
properties part number "TL20240701-10100CV-DY1054-1" material "SS400"
